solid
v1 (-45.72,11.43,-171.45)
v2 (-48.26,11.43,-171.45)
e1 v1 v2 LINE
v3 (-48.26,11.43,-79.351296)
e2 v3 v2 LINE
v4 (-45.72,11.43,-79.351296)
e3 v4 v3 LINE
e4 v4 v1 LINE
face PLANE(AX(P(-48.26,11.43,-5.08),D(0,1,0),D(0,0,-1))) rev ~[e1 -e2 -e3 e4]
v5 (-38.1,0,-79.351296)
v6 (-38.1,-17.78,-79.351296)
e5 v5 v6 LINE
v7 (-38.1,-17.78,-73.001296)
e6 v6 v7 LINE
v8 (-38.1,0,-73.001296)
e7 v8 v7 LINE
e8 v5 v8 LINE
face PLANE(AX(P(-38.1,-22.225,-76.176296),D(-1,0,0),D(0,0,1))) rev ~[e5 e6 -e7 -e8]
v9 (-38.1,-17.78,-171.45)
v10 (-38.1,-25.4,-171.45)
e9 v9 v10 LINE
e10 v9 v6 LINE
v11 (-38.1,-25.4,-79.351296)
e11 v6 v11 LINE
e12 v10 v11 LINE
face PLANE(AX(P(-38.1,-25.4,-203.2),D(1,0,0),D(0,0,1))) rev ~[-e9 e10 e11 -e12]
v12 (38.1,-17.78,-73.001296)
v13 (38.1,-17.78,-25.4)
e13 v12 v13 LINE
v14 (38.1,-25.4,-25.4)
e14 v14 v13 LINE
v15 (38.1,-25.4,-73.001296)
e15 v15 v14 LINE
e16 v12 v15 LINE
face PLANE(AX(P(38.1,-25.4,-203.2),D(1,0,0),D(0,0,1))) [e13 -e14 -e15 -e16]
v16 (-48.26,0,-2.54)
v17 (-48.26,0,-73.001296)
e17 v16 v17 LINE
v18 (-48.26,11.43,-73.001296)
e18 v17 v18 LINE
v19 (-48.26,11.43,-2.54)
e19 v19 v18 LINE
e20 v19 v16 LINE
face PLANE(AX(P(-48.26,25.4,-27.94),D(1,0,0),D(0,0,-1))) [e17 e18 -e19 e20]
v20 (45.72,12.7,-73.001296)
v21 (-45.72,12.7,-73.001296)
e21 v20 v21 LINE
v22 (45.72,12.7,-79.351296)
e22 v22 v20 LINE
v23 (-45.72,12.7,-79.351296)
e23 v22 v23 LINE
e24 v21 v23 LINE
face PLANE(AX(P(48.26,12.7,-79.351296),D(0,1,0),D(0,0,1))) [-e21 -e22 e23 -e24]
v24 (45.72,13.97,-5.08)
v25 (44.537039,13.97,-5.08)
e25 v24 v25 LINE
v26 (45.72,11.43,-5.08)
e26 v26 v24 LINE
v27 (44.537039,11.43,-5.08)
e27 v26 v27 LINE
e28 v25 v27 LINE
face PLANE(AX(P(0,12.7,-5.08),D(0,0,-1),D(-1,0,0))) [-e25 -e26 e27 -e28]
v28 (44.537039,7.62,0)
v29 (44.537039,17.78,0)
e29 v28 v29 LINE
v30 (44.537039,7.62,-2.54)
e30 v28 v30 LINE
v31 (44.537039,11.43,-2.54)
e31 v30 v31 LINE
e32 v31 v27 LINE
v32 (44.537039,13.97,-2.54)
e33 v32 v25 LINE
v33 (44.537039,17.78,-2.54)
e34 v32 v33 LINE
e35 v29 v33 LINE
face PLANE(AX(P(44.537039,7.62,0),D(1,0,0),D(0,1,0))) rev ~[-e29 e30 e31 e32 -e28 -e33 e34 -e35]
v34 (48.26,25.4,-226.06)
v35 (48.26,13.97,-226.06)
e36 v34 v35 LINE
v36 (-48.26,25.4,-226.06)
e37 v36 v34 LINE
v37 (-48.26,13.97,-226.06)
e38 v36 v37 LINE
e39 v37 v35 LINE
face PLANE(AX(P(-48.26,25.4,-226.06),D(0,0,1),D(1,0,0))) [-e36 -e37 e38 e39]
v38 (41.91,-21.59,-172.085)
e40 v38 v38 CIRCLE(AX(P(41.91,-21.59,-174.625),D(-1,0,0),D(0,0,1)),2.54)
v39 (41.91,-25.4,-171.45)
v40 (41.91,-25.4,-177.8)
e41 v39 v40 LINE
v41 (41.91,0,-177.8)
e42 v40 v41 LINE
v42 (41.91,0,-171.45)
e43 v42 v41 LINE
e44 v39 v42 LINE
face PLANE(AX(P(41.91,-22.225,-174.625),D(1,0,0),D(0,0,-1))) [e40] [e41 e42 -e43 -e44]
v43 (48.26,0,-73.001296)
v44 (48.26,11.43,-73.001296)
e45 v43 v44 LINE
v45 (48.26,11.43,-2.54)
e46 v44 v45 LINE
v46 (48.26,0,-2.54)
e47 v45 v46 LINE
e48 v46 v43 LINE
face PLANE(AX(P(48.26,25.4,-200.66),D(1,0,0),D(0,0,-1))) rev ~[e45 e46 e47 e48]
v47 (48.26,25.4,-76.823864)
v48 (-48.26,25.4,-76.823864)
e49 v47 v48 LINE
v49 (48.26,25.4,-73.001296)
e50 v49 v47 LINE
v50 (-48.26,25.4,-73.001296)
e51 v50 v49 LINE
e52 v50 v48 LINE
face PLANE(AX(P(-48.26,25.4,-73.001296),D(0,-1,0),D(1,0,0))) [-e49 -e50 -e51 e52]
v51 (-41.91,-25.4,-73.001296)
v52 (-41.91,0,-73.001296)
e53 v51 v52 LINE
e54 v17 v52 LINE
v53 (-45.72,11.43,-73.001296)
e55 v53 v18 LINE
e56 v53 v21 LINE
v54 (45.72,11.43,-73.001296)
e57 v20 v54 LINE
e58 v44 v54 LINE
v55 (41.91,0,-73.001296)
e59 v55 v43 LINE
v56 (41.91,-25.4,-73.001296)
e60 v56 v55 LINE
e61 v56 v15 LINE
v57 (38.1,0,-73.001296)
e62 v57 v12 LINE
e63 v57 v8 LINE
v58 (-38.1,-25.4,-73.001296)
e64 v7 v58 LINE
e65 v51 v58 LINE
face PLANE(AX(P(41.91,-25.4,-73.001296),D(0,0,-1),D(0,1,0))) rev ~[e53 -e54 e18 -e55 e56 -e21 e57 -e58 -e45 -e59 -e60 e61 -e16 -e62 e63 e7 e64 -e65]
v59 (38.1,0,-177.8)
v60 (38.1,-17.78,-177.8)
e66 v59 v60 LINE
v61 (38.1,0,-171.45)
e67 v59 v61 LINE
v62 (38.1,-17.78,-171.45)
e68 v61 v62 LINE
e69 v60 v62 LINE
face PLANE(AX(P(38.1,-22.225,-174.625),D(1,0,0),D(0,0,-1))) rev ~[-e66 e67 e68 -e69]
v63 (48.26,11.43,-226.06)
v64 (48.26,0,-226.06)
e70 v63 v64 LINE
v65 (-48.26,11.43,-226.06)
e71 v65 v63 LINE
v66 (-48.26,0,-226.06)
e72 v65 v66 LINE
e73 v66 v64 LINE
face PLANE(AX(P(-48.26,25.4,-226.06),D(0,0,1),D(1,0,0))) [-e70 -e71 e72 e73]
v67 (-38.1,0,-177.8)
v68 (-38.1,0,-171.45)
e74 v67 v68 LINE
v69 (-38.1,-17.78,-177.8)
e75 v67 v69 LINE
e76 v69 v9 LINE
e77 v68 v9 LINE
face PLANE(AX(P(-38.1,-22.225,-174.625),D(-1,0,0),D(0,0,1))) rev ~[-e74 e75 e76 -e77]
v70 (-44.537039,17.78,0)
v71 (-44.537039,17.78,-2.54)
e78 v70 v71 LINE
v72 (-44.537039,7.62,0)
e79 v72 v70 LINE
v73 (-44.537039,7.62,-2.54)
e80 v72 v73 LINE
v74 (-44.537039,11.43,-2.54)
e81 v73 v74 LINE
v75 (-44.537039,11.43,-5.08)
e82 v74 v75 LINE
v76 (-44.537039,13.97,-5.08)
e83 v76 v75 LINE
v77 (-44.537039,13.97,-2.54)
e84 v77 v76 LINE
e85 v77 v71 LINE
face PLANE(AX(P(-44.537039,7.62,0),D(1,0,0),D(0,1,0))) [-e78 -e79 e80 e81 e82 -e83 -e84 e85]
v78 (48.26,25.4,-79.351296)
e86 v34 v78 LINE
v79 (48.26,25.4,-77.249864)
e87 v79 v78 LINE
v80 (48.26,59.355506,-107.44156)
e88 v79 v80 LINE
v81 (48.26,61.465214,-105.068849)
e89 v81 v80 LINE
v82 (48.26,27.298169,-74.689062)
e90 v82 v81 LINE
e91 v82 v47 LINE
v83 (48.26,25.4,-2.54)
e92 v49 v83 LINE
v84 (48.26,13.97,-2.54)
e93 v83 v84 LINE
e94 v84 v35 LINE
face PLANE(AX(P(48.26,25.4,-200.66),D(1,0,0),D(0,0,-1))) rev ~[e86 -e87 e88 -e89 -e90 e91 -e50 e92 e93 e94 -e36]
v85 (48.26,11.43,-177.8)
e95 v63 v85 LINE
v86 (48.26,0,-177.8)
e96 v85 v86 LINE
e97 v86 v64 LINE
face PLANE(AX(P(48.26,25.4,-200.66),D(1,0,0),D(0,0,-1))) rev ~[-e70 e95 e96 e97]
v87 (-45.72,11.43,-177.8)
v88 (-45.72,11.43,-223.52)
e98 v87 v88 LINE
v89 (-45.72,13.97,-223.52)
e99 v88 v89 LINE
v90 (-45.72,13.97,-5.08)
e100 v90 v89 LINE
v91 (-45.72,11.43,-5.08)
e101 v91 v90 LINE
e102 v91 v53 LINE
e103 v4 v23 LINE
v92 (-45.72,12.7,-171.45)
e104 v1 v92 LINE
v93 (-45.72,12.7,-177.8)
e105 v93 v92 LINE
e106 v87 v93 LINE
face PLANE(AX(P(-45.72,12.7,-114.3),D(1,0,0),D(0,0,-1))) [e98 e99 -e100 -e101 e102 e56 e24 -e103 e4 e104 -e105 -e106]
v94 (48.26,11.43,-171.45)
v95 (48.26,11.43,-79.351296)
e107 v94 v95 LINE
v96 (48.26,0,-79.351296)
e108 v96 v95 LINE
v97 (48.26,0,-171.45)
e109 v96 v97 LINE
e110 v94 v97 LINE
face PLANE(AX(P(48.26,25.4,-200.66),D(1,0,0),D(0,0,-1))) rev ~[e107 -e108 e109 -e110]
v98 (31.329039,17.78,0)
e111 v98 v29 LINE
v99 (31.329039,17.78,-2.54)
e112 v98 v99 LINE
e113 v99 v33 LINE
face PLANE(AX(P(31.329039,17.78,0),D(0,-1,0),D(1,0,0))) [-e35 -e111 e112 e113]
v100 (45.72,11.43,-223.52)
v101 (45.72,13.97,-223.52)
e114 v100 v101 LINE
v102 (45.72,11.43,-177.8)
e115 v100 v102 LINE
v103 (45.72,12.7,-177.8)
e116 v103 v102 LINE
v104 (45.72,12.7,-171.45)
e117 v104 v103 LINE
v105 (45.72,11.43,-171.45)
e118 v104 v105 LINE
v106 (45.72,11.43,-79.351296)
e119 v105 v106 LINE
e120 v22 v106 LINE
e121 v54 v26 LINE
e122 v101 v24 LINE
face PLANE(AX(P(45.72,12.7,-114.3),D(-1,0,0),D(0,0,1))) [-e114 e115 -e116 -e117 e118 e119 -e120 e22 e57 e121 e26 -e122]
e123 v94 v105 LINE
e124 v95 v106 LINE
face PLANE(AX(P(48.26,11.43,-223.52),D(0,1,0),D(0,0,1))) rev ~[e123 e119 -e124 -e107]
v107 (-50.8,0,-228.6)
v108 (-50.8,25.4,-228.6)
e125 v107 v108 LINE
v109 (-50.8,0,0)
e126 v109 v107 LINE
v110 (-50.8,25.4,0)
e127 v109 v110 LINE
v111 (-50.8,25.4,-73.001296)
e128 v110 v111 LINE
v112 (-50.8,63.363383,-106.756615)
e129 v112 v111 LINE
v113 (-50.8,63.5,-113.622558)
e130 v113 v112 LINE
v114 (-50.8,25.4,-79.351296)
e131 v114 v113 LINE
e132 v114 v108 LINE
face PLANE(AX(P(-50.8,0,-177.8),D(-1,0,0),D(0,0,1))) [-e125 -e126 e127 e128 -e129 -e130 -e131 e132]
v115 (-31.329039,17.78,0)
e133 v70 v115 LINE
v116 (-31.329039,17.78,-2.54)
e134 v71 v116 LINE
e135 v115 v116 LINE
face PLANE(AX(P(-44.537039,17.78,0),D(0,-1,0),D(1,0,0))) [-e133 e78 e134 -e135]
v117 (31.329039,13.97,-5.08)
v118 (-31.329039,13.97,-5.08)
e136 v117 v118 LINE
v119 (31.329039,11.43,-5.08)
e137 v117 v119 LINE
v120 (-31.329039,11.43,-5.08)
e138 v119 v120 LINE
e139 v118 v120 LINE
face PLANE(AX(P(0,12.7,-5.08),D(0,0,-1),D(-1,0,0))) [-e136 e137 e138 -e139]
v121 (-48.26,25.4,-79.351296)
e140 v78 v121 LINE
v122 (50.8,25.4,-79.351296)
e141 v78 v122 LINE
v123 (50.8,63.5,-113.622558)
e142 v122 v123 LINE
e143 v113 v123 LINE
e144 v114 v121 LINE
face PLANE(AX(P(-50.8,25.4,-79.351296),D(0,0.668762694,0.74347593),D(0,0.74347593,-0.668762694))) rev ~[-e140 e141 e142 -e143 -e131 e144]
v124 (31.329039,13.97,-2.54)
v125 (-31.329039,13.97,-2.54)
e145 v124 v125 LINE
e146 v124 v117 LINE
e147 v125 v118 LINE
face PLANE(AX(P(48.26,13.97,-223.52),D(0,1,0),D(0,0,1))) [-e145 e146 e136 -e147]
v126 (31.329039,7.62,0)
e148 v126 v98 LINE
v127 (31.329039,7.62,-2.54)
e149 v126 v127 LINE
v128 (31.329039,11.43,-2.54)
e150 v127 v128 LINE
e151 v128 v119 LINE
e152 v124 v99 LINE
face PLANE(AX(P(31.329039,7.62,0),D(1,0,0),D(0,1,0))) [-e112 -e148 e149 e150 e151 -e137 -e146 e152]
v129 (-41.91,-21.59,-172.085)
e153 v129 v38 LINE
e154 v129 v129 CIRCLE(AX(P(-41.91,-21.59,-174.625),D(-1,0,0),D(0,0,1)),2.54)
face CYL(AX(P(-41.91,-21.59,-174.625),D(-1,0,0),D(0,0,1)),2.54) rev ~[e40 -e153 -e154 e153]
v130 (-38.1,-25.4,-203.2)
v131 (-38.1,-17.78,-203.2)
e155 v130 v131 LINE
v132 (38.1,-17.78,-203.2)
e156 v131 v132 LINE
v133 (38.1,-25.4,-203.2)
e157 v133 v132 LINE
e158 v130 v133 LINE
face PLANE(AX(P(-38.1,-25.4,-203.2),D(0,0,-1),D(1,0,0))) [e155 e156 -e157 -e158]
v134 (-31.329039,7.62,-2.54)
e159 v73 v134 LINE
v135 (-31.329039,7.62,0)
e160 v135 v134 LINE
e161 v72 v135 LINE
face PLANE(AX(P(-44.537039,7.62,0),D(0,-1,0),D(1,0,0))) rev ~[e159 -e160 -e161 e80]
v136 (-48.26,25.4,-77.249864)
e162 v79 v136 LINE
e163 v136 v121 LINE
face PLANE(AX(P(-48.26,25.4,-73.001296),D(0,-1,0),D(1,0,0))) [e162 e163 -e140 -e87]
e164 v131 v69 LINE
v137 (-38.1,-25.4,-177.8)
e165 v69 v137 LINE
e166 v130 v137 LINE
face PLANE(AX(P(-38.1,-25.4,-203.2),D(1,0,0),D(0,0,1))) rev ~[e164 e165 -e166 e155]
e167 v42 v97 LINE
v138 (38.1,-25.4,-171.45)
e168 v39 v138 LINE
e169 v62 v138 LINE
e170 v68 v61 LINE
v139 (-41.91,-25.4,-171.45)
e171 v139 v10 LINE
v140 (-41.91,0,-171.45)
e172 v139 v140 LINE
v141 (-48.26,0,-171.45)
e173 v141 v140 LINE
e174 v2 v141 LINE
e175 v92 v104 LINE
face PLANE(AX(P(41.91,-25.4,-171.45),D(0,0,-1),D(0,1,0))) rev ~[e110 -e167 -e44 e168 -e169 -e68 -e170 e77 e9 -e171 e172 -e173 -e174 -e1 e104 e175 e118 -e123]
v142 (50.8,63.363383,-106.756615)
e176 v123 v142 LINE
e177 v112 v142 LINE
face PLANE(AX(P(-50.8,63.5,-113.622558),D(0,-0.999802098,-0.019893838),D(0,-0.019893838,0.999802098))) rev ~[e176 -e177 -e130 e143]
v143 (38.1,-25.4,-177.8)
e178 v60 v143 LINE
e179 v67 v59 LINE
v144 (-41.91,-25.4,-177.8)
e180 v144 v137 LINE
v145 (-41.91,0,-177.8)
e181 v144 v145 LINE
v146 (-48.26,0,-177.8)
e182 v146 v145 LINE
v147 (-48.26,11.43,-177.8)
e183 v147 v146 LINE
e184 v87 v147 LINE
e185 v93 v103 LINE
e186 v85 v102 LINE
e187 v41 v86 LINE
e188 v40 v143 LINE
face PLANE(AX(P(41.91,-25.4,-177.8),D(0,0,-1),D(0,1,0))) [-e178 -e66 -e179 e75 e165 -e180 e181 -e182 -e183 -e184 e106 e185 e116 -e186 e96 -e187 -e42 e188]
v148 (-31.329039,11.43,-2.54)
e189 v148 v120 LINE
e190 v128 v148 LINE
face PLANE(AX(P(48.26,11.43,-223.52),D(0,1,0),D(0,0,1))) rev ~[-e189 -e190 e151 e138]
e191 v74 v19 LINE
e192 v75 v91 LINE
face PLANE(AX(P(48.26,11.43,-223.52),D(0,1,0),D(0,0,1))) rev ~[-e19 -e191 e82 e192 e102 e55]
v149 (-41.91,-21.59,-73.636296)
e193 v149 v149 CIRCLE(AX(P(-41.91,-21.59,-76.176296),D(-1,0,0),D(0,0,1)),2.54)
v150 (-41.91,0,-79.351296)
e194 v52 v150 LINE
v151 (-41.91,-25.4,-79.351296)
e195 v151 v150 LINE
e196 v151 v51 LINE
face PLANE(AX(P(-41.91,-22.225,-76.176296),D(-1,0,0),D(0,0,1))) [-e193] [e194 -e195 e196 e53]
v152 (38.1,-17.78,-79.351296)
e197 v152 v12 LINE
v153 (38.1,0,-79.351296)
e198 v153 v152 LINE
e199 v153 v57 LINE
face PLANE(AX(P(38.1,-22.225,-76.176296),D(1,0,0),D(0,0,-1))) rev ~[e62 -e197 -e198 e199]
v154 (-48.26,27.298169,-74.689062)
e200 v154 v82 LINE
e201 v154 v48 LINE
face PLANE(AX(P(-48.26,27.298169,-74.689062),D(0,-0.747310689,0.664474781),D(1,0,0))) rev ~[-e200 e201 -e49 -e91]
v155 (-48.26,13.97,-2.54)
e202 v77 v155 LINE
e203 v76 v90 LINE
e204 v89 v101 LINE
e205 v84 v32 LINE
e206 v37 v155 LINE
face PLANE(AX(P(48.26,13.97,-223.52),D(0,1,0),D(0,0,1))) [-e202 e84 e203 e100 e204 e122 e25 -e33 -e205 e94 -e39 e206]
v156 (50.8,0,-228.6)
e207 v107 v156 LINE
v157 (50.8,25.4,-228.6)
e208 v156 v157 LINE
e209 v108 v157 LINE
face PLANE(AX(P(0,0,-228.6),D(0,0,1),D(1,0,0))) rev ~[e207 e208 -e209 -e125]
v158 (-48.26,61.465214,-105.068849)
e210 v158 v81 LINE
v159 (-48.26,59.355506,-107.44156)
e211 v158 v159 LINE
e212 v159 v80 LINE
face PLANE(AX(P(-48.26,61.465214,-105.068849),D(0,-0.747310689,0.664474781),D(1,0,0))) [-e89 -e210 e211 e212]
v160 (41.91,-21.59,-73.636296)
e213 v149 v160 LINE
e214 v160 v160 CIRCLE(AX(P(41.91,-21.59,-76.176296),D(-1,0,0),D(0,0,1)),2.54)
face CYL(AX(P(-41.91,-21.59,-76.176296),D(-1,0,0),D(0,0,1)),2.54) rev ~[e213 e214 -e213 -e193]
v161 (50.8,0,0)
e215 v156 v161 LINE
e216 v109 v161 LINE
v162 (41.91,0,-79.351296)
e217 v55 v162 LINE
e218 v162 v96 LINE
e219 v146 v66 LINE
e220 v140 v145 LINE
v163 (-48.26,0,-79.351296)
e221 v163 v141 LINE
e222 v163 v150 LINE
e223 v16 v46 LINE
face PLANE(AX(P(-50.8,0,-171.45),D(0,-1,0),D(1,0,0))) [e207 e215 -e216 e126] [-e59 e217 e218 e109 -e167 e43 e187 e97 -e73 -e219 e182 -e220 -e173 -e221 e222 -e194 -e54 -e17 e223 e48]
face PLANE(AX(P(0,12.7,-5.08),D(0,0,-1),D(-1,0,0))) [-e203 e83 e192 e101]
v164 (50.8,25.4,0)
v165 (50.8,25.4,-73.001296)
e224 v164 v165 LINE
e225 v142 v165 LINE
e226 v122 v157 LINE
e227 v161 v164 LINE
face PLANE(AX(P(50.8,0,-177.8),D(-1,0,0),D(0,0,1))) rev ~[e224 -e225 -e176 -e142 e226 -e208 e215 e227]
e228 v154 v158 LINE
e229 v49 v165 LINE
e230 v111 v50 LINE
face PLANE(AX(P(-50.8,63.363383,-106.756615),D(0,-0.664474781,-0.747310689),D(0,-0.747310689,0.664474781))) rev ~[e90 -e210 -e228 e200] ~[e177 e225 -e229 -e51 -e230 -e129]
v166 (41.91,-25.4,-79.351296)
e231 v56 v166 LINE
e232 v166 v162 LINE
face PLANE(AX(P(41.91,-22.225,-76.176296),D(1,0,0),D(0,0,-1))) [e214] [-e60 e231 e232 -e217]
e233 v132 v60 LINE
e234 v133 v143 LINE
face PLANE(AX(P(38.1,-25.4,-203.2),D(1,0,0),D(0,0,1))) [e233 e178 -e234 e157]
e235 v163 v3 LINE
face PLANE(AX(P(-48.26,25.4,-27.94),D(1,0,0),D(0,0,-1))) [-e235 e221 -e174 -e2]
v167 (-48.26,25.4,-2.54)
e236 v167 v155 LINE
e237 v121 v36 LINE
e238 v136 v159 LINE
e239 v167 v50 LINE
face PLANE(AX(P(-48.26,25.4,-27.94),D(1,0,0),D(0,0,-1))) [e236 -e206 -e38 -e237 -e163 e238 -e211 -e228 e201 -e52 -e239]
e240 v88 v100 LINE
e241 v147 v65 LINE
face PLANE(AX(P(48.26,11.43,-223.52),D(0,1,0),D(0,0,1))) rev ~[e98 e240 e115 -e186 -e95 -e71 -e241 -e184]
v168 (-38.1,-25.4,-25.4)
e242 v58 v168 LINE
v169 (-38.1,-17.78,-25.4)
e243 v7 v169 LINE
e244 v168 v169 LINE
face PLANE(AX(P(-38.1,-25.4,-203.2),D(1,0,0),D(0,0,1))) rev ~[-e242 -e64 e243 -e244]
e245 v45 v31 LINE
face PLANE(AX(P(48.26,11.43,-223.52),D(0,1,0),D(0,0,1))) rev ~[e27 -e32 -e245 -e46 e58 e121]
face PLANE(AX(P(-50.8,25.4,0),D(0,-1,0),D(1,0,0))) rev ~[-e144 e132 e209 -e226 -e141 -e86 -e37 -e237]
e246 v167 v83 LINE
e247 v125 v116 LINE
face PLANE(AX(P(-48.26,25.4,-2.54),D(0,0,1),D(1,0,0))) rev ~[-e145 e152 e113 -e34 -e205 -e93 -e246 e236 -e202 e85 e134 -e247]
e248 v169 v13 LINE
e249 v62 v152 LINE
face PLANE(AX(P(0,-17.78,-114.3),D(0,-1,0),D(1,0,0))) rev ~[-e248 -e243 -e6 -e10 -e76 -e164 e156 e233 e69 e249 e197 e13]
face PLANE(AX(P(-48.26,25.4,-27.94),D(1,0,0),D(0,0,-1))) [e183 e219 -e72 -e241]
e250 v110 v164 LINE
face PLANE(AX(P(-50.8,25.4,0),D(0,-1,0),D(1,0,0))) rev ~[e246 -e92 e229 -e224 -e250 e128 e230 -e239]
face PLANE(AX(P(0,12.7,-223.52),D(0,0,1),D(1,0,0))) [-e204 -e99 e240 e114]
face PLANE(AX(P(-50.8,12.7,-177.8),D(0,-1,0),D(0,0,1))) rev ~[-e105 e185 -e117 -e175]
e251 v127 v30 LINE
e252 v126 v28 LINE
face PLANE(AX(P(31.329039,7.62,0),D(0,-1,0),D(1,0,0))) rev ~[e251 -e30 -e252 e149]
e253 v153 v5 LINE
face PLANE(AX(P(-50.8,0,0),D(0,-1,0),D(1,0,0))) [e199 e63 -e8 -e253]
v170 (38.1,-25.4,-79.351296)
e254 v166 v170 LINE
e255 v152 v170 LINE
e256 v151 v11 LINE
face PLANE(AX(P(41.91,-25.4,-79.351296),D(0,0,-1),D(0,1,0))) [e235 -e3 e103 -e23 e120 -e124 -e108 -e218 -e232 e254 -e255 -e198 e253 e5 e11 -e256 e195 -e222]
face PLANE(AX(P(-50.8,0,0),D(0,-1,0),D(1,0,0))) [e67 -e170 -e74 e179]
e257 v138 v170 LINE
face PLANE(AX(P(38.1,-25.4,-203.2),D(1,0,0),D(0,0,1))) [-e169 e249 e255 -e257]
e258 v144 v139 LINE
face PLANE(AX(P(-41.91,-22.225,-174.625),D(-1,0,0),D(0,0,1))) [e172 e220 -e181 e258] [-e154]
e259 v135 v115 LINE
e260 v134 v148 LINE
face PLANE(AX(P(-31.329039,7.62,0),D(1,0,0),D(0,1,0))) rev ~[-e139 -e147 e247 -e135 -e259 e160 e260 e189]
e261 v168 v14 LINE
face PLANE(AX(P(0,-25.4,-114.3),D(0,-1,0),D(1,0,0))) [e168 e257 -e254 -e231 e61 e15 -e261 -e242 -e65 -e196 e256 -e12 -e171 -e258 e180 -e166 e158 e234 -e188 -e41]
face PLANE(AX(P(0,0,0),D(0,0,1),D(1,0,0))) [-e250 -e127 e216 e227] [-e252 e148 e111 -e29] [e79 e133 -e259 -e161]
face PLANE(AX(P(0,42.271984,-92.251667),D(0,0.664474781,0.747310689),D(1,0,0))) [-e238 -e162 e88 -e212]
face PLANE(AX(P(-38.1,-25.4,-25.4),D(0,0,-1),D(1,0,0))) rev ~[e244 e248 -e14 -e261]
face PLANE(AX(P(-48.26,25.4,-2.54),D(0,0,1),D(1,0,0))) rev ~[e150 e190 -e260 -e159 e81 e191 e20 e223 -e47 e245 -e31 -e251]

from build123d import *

# Parameters (mm, degrees)
SKETCH1_W            = 101.6
SKETCH1_H            = 50.8
BOSS_EXTRUDE1_DEPTH  = 228.6
SKETCH2_W            = 96.52
SKETCH2_H            = 172.72
CUT_EXTRUDE1_DEPTH   = 50.8
BOSS_EXTRUDE2_DEPTH  = 50.8
BOSS_EXTRUDE3_DEPTH  = 101.6
SKETCH13_W           = 96.52
SKETCH13_H           = 25.4
CUT_EXTRUDE2_DEPTH   = 50.8
SKETCH14_W           = 96.52
SKETCH14_H           = 25.4
CUT_EXTRUDE3_DEPTH   = 50.8
SKETCH15_W           = 96.52
SKETCH15_H           = 50.8
CUT_EXTRUDE6_DEPTH   = 6.35
SKETCH16_W           = 96.52
SKETCH16_H           = 45.72
CUT_EXTRUDE7_DEPTH   = 3.175
SKETCH17_W           = 101.6
SKETCH17_H           = 25.4
CUT_EXTRUDE8_DEPTH   = 228.6
SKETCH19_W           = 6.35
SKETCH19_H           = 12.7
BOSS_EXTRUDE4_DEPTH  = 96.52
SKETCH20_W           = 6.35
SKETCH20_H           = 12.7
BOSS_EXTRUDE5_DEPTH  = 101.6
SKETCH24_W           = 12.7
SKETCH24_H           = 6.35
BOSS_EXTRUDE8_DEPTH  = 19.05
SKETCH25_W           = 12.7
SKETCH25_H           = 6.35
BOSS_EXTRUDE9_DEPTH  = 19.05
SKETCH26_W           = 12.7
SKETCH26_H           = 6.35
BOSS_EXTRUDE10_DEPTH = 19.05
SKETCH27_W           = 12.7
SKETCH27_H           = 6.35
BOSS_EXTRUDE11_DEPTH = 19.05
SKETCH28_W           = 8.89
SKETCH28_H           = 19.05
CUT_EXTRUDE9_DEPTH   = 6.35
SKETCH29_W           = 8.89
SKETCH29_H           = 19.05
CUT_EXTRUDE10_DEPTH  = 6.35
SKETCH30_W           = 8.89
SKETCH30_H           = 19.05
CUT_EXTRUDE11_DEPTH  = 6.35
SKETCH31_W           = 8.89
SKETCH31_H           = 19.05
CUT_EXTRUDE12_DEPTH  = 6.35
SKETCH33_W           = 96.52
SKETCH33_H           = 2.54
BOSS_EXTRUDE13_DEPTH = 2.54
SKETCH34_W           = 96.52
SKETCH34_H           = 2.54
BOSS_EXTRUDE17_DEPTH = 2.54
SKETCH36_W           = 218.44
SKETCH36_H           = 2.54
BOSS_EXTRUDE18_DEPTH = 2.54
SKETCH37_W           = 218.44
SKETCH37_H           = 2.54
BOSS_EXTRUDE19_DEPTH = 2.54
SKETCH42_W           = 6.35
SKETCH42_H           = 6.35
CUT_EXTRUDE16_DEPTH  = 5.08
SKETCH45_W           = 13.208
SKETCH45_H           = 10.16
CUT_EXTRUDE19_DEPTH  = 6.35
SKETCH50_W           = 6.35
SKETCH50_H           = 6.35
BOSS_EXTRUDE20_DEPTH = 3.81
SKETCH51_W           = 6.35
SKETCH51_H           = 6.35
BOSS_EXTRUDE21_DEPTH = 3.81
SKETCH52_W           = 6.35
SKETCH52_H           = 6.35
BOSS_EXTRUDE22_DEPTH = 3.81
SKETCH53_W           = 6.35
SKETCH53_H           = 6.35
BOSS_EXTRUDE23_DEPTH = 3.81
SKETCH54_W           = 6.35
SKETCH54_H           = 6.35
BOSS_EXTRUDE24_DEPTH = 3.81
SKETCH55_W           = 76.2
SKETCH55_H           = 177.8
BOSS_EXTRUDE25_DEPTH = 7.62
SKETCH56_R           = 2.54
CUT_EXTRUDE20_DEPTH  = 83.82
SKETCH57_R           = 2.54
CUT_EXTRUDE21_DEPTH  = 83.82


with BuildPart() as part:
    # Sketch1 → Boss-Extrude1 (new body)
    with BuildSketch(Plane.XY):
        Rectangle(SKETCH1_W, SKETCH1_H)
    extrude(amount=-BOSS_EXTRUDE1_DEPTH)

    # Sketch2 → Cut-Extrude1 (cut)
    with BuildSketch(Plane(origin=(0, 25.4, 0), x_dir=(1, 0, 0), z_dir=(0, 1, 0))):
        with Locations((0, 114.3)):
            Rectangle(SKETCH2_W, SKETCH2_H)
    extrude(amount=-CUT_EXTRUDE1_DEPTH, mode=Mode.SUBTRACT)

    # Sketch3 → Boss-Extrude2 (add)
    with BuildSketch(Plane(origin=(0, 25.4, 0), x_dir=(1, 0, 0), z_dir=(0, 1, 0))):
        Polygon((48.26, 73.001295984), (48.26, 79.351295984), (-48.26, 79.351295984), (-48.26, 73.001295984), (0, 73.001295984), align=None)
    extrude(amount=-BOSS_EXTRUDE2_DEPTH)

    # Sketch11 → Boss-Extrude3 (add)
    with BuildSketch(Plane.ZY.offset(50.8)):
        Polygon((-79.351295984, 25.4), (-113.622558301, 63.5), (-106.756614843, 63.363382999), (-73.001295984, 25.4), align=None)
    extrude(amount=-BOSS_EXTRUDE3_DEPTH)

    # Sketch13 → Cut-Extrude2 (cut)
    with BuildSketch(Plane(origin=(0, 25.4, 0), x_dir=(1, 0, 0), z_dir=(0, 1, 0))):
        with Locations((0, 213.36)):
            Rectangle(SKETCH13_W, SKETCH13_H)
    extrude(amount=-CUT_EXTRUDE2_DEPTH, mode=Mode.SUBTRACT)

    # Sketch14 → Cut-Extrude3 (cut)
    with BuildSketch(Plane(origin=(0, 25.4, 0), x_dir=(1, 0, 0), z_dir=(0, 1, 0))):
        with Locations((0, 15.24)):
            Rectangle(SKETCH14_W, SKETCH14_H)
    extrude(amount=-CUT_EXTRUDE3_DEPTH, mode=Mode.SUBTRACT)

    # Sketch15 → Cut-Extrude6 (cut)
    with BuildSketch(Plane.XY.offset(-73.001295984)):
        Rectangle(SKETCH15_W, SKETCH15_H)
    extrude(amount=-CUT_EXTRUDE6_DEPTH, mode=Mode.SUBTRACT)

    # Sketch16 → Cut-Extrude7 (cut)
    with BuildSketch(Plane(origin=(0, -25.035409247, -28.156416881), x_dir=(1, 0, 0), z_dir=(0, 0.664474781, 0.747310689))):
        with Locations((0, 92.889211639)):
            Rectangle(SKETCH16_W, SKETCH16_H)
    extrude(amount=-CUT_EXTRUDE7_DEPTH, mode=Mode.SUBTRACT)

    # Sketch17 → Cut-Extrude8 (cut)
    with BuildSketch(Plane.XY):
        with Locations((0, -12.7)):
            Rectangle(SKETCH17_W, SKETCH17_H)
    extrude(amount=-CUT_EXTRUDE8_DEPTH, mode=Mode.SUBTRACT)

    # Sketch19 → Boss-Extrude4 (add)
    with BuildSketch(Plane.ZY.offset(-48.26)):
        with Locations((-76.176295984, 6.35)):
            Rectangle(SKETCH19_W, SKETCH19_H)
    extrude(amount=BOSS_EXTRUDE4_DEPTH)

    # Sketch20 → Boss-Extrude5 (add)
    with BuildSketch(Plane.ZY.offset(50.8)):
        with Locations((-174.625, 6.35)):
            Rectangle(SKETCH20_W, SKETCH20_H)
    extrude(amount=-BOSS_EXTRUDE5_DEPTH)

    # Sketch24 → Boss-Extrude8 (add)
    with BuildSketch(Plane.XZ):
        with Locations((44.45, -76.176295984)):
            Rectangle(SKETCH24_W, SKETCH24_H)
    extrude(amount=BOSS_EXTRUDE8_DEPTH)

    # Sketch25 → Boss-Extrude9 (add)
    with BuildSketch(Plane.XZ):
        with Locations((-44.45, -76.176295984)):
            Rectangle(SKETCH25_W, SKETCH25_H)
    extrude(amount=BOSS_EXTRUDE9_DEPTH)

    # Sketch26 → Boss-Extrude10 (add)
    with BuildSketch(Plane.XZ):
        with Locations((-44.45, -174.625)):
            Rectangle(SKETCH26_W, SKETCH26_H)
    extrude(amount=BOSS_EXTRUDE10_DEPTH)

    # Sketch27 → Boss-Extrude11 (add)
    with BuildSketch(Plane.XZ):
        with Locations((44.45, -174.625)):
            Rectangle(SKETCH27_W, SKETCH27_H)
    extrude(amount=BOSS_EXTRUDE11_DEPTH)

    # Sketch28 → Cut-Extrude9 (cut)
    with BuildSketch(Plane.XY.offset(-73.001295984)):
        with Locations((46.355, -9.525)):
            Rectangle(SKETCH28_W, SKETCH28_H)
    extrude(amount=-CUT_EXTRUDE9_DEPTH, mode=Mode.SUBTRACT)

    # Sketch29 → Cut-Extrude10 (cut)
    with BuildSketch(Plane.XY.offset(-73.001295984)):
        with Locations((-46.355, -9.525)):
            Rectangle(SKETCH29_W, SKETCH29_H)
    extrude(amount=-CUT_EXTRUDE10_DEPTH, mode=Mode.SUBTRACT)

    # Sketch30 → Cut-Extrude11 (cut)
    with BuildSketch(Plane.XY.offset(-171.45)):
        with Locations((-46.355, -9.525)):
            Rectangle(SKETCH30_W, SKETCH30_H)
    extrude(amount=-CUT_EXTRUDE11_DEPTH, mode=Mode.SUBTRACT)

    # Sketch31 → Cut-Extrude12 (cut)
    with BuildSketch(Plane.XY.offset(-171.45)):
        with Locations((46.355, -9.525)):
            Rectangle(SKETCH31_W, SKETCH31_H)
    extrude(amount=-CUT_EXTRUDE12_DEPTH, mode=Mode.SUBTRACT)

    # Sketch33 → Boss-Extrude13 (add)
    with BuildSketch(Plane(origin=(0, 0, -2.54), x_dir=(-1, 0, 0), z_dir=(0, 0, -1))):
        with Locations((0, 12.7)):
            Rectangle(SKETCH33_W, SKETCH33_H)
    extrude(amount=BOSS_EXTRUDE13_DEPTH)

    # Sketch34 → Boss-Extrude17 (add)
    with BuildSketch(Plane.XY.offset(-226.06)):
        with Locations((0, 12.7)):
            Rectangle(SKETCH34_W, SKETCH34_H)
    extrude(amount=BOSS_EXTRUDE17_DEPTH)

    # Sketch36 → Boss-Extrude18 (add)
    with BuildSketch(Plane(origin=(-48.26, 0, 0), x_dir=(0, 0, -1), z_dir=(1, 0, 0))):
        with Locations((114.3, 12.7)):
            Rectangle(SKETCH36_W, SKETCH36_H)
    extrude(amount=BOSS_EXTRUDE18_DEPTH)

    # Sketch37 → Boss-Extrude19 (add)
    with BuildSketch(Plane.ZY.offset(-48.26)):
        with Locations((-114.3, 12.7)):
            Rectangle(SKETCH37_W, SKETCH37_H)
    extrude(amount=BOSS_EXTRUDE19_DEPTH)

    # Sketch42 → Cut-Extrude16 (cut)
    with BuildSketch(Plane.ZY.offset(41.91)):
        with Locations((-76.176295984, -15.875)):
            Rectangle(SKETCH42_W, SKETCH42_H)
    extrude(amount=-CUT_EXTRUDE16_DEPTH, mode=Mode.SUBTRACT)

    # Sketch45 → Cut-Extrude19 (cut)
    with BuildSketch(Plane.XY):
        with Locations((37.933039121, 12.7)):
            Rectangle(SKETCH45_W, SKETCH45_H)
        with Locations((-37.933039121, 12.7)):
            Rectangle(SKETCH45_W, SKETCH45_H)
    extrude(amount=-CUT_EXTRUDE19_DEPTH, mode=Mode.SUBTRACT)

    # Sketch50 → Boss-Extrude20 (add)
    with BuildSketch(Plane.ZY.offset(41.91)):
        with Locations((-76.176295984, -15.875)):
            Rectangle(SKETCH50_W, SKETCH50_H)
    extrude(amount=-BOSS_EXTRUDE20_DEPTH)

    # Sketch51 → Boss-Extrude21 (add)
    with BuildSketch(Plane.ZY.offset(41.91)):
        with Locations((-76.176295984, -22.225)):
            Rectangle(SKETCH51_W, SKETCH51_H)
    extrude(amount=-BOSS_EXTRUDE21_DEPTH)

    # Sketch52 → Boss-Extrude22 (add)
    with BuildSketch(Plane.ZY.offset(41.91)):
        with Locations((-174.625, -22.225)):
            Rectangle(SKETCH52_W, SKETCH52_H)
    extrude(amount=-BOSS_EXTRUDE22_DEPTH)

    # Sketch53 → Boss-Extrude23 (add)
    with BuildSketch(Plane(origin=(41.91, 0, 0), x_dir=(0, 0, -1), z_dir=(1, 0, 0))):
        with Locations((76.176295984, -22.225)):
            Rectangle(SKETCH53_W, SKETCH53_H)
    extrude(amount=-BOSS_EXTRUDE23_DEPTH)

    # Sketch54 → Boss-Extrude24 (add)
    with BuildSketch(Plane(origin=(41.91, 0, 0), x_dir=(0, 0, -1), z_dir=(1, 0, 0))):
        with Locations((174.625, -22.225)):
            Rectangle(SKETCH54_W, SKETCH54_H)
    extrude(amount=-BOSS_EXTRUDE24_DEPTH)

    # Sketch55 → Boss-Extrude25 (add)
    with BuildSketch(Plane.XZ.offset(25.4)):
        with Locations((0, -114.3)):
            Rectangle(SKETCH55_W, SKETCH55_H)
    extrude(amount=-BOSS_EXTRUDE25_DEPTH)

    # Sketch56 → Cut-Extrude20 (cut)
    with BuildSketch(Plane.ZY.offset(41.91)):
        with Locations((-76.176295984, -21.59)):
            Circle(SKETCH56_R)
    extrude(amount=-CUT_EXTRUDE20_DEPTH, mode=Mode.SUBTRACT)

    # Sketch57 → Cut-Extrude21 (cut)
    with BuildSketch(Plane.ZY.offset(41.91)):
        with Locations((-174.625, -21.59)):
            Circle(SKETCH57_R)
    extrude(amount=-CUT_EXTRUDE21_DEPTH, mode=Mode.SUBTRACT)


solid = part.part
